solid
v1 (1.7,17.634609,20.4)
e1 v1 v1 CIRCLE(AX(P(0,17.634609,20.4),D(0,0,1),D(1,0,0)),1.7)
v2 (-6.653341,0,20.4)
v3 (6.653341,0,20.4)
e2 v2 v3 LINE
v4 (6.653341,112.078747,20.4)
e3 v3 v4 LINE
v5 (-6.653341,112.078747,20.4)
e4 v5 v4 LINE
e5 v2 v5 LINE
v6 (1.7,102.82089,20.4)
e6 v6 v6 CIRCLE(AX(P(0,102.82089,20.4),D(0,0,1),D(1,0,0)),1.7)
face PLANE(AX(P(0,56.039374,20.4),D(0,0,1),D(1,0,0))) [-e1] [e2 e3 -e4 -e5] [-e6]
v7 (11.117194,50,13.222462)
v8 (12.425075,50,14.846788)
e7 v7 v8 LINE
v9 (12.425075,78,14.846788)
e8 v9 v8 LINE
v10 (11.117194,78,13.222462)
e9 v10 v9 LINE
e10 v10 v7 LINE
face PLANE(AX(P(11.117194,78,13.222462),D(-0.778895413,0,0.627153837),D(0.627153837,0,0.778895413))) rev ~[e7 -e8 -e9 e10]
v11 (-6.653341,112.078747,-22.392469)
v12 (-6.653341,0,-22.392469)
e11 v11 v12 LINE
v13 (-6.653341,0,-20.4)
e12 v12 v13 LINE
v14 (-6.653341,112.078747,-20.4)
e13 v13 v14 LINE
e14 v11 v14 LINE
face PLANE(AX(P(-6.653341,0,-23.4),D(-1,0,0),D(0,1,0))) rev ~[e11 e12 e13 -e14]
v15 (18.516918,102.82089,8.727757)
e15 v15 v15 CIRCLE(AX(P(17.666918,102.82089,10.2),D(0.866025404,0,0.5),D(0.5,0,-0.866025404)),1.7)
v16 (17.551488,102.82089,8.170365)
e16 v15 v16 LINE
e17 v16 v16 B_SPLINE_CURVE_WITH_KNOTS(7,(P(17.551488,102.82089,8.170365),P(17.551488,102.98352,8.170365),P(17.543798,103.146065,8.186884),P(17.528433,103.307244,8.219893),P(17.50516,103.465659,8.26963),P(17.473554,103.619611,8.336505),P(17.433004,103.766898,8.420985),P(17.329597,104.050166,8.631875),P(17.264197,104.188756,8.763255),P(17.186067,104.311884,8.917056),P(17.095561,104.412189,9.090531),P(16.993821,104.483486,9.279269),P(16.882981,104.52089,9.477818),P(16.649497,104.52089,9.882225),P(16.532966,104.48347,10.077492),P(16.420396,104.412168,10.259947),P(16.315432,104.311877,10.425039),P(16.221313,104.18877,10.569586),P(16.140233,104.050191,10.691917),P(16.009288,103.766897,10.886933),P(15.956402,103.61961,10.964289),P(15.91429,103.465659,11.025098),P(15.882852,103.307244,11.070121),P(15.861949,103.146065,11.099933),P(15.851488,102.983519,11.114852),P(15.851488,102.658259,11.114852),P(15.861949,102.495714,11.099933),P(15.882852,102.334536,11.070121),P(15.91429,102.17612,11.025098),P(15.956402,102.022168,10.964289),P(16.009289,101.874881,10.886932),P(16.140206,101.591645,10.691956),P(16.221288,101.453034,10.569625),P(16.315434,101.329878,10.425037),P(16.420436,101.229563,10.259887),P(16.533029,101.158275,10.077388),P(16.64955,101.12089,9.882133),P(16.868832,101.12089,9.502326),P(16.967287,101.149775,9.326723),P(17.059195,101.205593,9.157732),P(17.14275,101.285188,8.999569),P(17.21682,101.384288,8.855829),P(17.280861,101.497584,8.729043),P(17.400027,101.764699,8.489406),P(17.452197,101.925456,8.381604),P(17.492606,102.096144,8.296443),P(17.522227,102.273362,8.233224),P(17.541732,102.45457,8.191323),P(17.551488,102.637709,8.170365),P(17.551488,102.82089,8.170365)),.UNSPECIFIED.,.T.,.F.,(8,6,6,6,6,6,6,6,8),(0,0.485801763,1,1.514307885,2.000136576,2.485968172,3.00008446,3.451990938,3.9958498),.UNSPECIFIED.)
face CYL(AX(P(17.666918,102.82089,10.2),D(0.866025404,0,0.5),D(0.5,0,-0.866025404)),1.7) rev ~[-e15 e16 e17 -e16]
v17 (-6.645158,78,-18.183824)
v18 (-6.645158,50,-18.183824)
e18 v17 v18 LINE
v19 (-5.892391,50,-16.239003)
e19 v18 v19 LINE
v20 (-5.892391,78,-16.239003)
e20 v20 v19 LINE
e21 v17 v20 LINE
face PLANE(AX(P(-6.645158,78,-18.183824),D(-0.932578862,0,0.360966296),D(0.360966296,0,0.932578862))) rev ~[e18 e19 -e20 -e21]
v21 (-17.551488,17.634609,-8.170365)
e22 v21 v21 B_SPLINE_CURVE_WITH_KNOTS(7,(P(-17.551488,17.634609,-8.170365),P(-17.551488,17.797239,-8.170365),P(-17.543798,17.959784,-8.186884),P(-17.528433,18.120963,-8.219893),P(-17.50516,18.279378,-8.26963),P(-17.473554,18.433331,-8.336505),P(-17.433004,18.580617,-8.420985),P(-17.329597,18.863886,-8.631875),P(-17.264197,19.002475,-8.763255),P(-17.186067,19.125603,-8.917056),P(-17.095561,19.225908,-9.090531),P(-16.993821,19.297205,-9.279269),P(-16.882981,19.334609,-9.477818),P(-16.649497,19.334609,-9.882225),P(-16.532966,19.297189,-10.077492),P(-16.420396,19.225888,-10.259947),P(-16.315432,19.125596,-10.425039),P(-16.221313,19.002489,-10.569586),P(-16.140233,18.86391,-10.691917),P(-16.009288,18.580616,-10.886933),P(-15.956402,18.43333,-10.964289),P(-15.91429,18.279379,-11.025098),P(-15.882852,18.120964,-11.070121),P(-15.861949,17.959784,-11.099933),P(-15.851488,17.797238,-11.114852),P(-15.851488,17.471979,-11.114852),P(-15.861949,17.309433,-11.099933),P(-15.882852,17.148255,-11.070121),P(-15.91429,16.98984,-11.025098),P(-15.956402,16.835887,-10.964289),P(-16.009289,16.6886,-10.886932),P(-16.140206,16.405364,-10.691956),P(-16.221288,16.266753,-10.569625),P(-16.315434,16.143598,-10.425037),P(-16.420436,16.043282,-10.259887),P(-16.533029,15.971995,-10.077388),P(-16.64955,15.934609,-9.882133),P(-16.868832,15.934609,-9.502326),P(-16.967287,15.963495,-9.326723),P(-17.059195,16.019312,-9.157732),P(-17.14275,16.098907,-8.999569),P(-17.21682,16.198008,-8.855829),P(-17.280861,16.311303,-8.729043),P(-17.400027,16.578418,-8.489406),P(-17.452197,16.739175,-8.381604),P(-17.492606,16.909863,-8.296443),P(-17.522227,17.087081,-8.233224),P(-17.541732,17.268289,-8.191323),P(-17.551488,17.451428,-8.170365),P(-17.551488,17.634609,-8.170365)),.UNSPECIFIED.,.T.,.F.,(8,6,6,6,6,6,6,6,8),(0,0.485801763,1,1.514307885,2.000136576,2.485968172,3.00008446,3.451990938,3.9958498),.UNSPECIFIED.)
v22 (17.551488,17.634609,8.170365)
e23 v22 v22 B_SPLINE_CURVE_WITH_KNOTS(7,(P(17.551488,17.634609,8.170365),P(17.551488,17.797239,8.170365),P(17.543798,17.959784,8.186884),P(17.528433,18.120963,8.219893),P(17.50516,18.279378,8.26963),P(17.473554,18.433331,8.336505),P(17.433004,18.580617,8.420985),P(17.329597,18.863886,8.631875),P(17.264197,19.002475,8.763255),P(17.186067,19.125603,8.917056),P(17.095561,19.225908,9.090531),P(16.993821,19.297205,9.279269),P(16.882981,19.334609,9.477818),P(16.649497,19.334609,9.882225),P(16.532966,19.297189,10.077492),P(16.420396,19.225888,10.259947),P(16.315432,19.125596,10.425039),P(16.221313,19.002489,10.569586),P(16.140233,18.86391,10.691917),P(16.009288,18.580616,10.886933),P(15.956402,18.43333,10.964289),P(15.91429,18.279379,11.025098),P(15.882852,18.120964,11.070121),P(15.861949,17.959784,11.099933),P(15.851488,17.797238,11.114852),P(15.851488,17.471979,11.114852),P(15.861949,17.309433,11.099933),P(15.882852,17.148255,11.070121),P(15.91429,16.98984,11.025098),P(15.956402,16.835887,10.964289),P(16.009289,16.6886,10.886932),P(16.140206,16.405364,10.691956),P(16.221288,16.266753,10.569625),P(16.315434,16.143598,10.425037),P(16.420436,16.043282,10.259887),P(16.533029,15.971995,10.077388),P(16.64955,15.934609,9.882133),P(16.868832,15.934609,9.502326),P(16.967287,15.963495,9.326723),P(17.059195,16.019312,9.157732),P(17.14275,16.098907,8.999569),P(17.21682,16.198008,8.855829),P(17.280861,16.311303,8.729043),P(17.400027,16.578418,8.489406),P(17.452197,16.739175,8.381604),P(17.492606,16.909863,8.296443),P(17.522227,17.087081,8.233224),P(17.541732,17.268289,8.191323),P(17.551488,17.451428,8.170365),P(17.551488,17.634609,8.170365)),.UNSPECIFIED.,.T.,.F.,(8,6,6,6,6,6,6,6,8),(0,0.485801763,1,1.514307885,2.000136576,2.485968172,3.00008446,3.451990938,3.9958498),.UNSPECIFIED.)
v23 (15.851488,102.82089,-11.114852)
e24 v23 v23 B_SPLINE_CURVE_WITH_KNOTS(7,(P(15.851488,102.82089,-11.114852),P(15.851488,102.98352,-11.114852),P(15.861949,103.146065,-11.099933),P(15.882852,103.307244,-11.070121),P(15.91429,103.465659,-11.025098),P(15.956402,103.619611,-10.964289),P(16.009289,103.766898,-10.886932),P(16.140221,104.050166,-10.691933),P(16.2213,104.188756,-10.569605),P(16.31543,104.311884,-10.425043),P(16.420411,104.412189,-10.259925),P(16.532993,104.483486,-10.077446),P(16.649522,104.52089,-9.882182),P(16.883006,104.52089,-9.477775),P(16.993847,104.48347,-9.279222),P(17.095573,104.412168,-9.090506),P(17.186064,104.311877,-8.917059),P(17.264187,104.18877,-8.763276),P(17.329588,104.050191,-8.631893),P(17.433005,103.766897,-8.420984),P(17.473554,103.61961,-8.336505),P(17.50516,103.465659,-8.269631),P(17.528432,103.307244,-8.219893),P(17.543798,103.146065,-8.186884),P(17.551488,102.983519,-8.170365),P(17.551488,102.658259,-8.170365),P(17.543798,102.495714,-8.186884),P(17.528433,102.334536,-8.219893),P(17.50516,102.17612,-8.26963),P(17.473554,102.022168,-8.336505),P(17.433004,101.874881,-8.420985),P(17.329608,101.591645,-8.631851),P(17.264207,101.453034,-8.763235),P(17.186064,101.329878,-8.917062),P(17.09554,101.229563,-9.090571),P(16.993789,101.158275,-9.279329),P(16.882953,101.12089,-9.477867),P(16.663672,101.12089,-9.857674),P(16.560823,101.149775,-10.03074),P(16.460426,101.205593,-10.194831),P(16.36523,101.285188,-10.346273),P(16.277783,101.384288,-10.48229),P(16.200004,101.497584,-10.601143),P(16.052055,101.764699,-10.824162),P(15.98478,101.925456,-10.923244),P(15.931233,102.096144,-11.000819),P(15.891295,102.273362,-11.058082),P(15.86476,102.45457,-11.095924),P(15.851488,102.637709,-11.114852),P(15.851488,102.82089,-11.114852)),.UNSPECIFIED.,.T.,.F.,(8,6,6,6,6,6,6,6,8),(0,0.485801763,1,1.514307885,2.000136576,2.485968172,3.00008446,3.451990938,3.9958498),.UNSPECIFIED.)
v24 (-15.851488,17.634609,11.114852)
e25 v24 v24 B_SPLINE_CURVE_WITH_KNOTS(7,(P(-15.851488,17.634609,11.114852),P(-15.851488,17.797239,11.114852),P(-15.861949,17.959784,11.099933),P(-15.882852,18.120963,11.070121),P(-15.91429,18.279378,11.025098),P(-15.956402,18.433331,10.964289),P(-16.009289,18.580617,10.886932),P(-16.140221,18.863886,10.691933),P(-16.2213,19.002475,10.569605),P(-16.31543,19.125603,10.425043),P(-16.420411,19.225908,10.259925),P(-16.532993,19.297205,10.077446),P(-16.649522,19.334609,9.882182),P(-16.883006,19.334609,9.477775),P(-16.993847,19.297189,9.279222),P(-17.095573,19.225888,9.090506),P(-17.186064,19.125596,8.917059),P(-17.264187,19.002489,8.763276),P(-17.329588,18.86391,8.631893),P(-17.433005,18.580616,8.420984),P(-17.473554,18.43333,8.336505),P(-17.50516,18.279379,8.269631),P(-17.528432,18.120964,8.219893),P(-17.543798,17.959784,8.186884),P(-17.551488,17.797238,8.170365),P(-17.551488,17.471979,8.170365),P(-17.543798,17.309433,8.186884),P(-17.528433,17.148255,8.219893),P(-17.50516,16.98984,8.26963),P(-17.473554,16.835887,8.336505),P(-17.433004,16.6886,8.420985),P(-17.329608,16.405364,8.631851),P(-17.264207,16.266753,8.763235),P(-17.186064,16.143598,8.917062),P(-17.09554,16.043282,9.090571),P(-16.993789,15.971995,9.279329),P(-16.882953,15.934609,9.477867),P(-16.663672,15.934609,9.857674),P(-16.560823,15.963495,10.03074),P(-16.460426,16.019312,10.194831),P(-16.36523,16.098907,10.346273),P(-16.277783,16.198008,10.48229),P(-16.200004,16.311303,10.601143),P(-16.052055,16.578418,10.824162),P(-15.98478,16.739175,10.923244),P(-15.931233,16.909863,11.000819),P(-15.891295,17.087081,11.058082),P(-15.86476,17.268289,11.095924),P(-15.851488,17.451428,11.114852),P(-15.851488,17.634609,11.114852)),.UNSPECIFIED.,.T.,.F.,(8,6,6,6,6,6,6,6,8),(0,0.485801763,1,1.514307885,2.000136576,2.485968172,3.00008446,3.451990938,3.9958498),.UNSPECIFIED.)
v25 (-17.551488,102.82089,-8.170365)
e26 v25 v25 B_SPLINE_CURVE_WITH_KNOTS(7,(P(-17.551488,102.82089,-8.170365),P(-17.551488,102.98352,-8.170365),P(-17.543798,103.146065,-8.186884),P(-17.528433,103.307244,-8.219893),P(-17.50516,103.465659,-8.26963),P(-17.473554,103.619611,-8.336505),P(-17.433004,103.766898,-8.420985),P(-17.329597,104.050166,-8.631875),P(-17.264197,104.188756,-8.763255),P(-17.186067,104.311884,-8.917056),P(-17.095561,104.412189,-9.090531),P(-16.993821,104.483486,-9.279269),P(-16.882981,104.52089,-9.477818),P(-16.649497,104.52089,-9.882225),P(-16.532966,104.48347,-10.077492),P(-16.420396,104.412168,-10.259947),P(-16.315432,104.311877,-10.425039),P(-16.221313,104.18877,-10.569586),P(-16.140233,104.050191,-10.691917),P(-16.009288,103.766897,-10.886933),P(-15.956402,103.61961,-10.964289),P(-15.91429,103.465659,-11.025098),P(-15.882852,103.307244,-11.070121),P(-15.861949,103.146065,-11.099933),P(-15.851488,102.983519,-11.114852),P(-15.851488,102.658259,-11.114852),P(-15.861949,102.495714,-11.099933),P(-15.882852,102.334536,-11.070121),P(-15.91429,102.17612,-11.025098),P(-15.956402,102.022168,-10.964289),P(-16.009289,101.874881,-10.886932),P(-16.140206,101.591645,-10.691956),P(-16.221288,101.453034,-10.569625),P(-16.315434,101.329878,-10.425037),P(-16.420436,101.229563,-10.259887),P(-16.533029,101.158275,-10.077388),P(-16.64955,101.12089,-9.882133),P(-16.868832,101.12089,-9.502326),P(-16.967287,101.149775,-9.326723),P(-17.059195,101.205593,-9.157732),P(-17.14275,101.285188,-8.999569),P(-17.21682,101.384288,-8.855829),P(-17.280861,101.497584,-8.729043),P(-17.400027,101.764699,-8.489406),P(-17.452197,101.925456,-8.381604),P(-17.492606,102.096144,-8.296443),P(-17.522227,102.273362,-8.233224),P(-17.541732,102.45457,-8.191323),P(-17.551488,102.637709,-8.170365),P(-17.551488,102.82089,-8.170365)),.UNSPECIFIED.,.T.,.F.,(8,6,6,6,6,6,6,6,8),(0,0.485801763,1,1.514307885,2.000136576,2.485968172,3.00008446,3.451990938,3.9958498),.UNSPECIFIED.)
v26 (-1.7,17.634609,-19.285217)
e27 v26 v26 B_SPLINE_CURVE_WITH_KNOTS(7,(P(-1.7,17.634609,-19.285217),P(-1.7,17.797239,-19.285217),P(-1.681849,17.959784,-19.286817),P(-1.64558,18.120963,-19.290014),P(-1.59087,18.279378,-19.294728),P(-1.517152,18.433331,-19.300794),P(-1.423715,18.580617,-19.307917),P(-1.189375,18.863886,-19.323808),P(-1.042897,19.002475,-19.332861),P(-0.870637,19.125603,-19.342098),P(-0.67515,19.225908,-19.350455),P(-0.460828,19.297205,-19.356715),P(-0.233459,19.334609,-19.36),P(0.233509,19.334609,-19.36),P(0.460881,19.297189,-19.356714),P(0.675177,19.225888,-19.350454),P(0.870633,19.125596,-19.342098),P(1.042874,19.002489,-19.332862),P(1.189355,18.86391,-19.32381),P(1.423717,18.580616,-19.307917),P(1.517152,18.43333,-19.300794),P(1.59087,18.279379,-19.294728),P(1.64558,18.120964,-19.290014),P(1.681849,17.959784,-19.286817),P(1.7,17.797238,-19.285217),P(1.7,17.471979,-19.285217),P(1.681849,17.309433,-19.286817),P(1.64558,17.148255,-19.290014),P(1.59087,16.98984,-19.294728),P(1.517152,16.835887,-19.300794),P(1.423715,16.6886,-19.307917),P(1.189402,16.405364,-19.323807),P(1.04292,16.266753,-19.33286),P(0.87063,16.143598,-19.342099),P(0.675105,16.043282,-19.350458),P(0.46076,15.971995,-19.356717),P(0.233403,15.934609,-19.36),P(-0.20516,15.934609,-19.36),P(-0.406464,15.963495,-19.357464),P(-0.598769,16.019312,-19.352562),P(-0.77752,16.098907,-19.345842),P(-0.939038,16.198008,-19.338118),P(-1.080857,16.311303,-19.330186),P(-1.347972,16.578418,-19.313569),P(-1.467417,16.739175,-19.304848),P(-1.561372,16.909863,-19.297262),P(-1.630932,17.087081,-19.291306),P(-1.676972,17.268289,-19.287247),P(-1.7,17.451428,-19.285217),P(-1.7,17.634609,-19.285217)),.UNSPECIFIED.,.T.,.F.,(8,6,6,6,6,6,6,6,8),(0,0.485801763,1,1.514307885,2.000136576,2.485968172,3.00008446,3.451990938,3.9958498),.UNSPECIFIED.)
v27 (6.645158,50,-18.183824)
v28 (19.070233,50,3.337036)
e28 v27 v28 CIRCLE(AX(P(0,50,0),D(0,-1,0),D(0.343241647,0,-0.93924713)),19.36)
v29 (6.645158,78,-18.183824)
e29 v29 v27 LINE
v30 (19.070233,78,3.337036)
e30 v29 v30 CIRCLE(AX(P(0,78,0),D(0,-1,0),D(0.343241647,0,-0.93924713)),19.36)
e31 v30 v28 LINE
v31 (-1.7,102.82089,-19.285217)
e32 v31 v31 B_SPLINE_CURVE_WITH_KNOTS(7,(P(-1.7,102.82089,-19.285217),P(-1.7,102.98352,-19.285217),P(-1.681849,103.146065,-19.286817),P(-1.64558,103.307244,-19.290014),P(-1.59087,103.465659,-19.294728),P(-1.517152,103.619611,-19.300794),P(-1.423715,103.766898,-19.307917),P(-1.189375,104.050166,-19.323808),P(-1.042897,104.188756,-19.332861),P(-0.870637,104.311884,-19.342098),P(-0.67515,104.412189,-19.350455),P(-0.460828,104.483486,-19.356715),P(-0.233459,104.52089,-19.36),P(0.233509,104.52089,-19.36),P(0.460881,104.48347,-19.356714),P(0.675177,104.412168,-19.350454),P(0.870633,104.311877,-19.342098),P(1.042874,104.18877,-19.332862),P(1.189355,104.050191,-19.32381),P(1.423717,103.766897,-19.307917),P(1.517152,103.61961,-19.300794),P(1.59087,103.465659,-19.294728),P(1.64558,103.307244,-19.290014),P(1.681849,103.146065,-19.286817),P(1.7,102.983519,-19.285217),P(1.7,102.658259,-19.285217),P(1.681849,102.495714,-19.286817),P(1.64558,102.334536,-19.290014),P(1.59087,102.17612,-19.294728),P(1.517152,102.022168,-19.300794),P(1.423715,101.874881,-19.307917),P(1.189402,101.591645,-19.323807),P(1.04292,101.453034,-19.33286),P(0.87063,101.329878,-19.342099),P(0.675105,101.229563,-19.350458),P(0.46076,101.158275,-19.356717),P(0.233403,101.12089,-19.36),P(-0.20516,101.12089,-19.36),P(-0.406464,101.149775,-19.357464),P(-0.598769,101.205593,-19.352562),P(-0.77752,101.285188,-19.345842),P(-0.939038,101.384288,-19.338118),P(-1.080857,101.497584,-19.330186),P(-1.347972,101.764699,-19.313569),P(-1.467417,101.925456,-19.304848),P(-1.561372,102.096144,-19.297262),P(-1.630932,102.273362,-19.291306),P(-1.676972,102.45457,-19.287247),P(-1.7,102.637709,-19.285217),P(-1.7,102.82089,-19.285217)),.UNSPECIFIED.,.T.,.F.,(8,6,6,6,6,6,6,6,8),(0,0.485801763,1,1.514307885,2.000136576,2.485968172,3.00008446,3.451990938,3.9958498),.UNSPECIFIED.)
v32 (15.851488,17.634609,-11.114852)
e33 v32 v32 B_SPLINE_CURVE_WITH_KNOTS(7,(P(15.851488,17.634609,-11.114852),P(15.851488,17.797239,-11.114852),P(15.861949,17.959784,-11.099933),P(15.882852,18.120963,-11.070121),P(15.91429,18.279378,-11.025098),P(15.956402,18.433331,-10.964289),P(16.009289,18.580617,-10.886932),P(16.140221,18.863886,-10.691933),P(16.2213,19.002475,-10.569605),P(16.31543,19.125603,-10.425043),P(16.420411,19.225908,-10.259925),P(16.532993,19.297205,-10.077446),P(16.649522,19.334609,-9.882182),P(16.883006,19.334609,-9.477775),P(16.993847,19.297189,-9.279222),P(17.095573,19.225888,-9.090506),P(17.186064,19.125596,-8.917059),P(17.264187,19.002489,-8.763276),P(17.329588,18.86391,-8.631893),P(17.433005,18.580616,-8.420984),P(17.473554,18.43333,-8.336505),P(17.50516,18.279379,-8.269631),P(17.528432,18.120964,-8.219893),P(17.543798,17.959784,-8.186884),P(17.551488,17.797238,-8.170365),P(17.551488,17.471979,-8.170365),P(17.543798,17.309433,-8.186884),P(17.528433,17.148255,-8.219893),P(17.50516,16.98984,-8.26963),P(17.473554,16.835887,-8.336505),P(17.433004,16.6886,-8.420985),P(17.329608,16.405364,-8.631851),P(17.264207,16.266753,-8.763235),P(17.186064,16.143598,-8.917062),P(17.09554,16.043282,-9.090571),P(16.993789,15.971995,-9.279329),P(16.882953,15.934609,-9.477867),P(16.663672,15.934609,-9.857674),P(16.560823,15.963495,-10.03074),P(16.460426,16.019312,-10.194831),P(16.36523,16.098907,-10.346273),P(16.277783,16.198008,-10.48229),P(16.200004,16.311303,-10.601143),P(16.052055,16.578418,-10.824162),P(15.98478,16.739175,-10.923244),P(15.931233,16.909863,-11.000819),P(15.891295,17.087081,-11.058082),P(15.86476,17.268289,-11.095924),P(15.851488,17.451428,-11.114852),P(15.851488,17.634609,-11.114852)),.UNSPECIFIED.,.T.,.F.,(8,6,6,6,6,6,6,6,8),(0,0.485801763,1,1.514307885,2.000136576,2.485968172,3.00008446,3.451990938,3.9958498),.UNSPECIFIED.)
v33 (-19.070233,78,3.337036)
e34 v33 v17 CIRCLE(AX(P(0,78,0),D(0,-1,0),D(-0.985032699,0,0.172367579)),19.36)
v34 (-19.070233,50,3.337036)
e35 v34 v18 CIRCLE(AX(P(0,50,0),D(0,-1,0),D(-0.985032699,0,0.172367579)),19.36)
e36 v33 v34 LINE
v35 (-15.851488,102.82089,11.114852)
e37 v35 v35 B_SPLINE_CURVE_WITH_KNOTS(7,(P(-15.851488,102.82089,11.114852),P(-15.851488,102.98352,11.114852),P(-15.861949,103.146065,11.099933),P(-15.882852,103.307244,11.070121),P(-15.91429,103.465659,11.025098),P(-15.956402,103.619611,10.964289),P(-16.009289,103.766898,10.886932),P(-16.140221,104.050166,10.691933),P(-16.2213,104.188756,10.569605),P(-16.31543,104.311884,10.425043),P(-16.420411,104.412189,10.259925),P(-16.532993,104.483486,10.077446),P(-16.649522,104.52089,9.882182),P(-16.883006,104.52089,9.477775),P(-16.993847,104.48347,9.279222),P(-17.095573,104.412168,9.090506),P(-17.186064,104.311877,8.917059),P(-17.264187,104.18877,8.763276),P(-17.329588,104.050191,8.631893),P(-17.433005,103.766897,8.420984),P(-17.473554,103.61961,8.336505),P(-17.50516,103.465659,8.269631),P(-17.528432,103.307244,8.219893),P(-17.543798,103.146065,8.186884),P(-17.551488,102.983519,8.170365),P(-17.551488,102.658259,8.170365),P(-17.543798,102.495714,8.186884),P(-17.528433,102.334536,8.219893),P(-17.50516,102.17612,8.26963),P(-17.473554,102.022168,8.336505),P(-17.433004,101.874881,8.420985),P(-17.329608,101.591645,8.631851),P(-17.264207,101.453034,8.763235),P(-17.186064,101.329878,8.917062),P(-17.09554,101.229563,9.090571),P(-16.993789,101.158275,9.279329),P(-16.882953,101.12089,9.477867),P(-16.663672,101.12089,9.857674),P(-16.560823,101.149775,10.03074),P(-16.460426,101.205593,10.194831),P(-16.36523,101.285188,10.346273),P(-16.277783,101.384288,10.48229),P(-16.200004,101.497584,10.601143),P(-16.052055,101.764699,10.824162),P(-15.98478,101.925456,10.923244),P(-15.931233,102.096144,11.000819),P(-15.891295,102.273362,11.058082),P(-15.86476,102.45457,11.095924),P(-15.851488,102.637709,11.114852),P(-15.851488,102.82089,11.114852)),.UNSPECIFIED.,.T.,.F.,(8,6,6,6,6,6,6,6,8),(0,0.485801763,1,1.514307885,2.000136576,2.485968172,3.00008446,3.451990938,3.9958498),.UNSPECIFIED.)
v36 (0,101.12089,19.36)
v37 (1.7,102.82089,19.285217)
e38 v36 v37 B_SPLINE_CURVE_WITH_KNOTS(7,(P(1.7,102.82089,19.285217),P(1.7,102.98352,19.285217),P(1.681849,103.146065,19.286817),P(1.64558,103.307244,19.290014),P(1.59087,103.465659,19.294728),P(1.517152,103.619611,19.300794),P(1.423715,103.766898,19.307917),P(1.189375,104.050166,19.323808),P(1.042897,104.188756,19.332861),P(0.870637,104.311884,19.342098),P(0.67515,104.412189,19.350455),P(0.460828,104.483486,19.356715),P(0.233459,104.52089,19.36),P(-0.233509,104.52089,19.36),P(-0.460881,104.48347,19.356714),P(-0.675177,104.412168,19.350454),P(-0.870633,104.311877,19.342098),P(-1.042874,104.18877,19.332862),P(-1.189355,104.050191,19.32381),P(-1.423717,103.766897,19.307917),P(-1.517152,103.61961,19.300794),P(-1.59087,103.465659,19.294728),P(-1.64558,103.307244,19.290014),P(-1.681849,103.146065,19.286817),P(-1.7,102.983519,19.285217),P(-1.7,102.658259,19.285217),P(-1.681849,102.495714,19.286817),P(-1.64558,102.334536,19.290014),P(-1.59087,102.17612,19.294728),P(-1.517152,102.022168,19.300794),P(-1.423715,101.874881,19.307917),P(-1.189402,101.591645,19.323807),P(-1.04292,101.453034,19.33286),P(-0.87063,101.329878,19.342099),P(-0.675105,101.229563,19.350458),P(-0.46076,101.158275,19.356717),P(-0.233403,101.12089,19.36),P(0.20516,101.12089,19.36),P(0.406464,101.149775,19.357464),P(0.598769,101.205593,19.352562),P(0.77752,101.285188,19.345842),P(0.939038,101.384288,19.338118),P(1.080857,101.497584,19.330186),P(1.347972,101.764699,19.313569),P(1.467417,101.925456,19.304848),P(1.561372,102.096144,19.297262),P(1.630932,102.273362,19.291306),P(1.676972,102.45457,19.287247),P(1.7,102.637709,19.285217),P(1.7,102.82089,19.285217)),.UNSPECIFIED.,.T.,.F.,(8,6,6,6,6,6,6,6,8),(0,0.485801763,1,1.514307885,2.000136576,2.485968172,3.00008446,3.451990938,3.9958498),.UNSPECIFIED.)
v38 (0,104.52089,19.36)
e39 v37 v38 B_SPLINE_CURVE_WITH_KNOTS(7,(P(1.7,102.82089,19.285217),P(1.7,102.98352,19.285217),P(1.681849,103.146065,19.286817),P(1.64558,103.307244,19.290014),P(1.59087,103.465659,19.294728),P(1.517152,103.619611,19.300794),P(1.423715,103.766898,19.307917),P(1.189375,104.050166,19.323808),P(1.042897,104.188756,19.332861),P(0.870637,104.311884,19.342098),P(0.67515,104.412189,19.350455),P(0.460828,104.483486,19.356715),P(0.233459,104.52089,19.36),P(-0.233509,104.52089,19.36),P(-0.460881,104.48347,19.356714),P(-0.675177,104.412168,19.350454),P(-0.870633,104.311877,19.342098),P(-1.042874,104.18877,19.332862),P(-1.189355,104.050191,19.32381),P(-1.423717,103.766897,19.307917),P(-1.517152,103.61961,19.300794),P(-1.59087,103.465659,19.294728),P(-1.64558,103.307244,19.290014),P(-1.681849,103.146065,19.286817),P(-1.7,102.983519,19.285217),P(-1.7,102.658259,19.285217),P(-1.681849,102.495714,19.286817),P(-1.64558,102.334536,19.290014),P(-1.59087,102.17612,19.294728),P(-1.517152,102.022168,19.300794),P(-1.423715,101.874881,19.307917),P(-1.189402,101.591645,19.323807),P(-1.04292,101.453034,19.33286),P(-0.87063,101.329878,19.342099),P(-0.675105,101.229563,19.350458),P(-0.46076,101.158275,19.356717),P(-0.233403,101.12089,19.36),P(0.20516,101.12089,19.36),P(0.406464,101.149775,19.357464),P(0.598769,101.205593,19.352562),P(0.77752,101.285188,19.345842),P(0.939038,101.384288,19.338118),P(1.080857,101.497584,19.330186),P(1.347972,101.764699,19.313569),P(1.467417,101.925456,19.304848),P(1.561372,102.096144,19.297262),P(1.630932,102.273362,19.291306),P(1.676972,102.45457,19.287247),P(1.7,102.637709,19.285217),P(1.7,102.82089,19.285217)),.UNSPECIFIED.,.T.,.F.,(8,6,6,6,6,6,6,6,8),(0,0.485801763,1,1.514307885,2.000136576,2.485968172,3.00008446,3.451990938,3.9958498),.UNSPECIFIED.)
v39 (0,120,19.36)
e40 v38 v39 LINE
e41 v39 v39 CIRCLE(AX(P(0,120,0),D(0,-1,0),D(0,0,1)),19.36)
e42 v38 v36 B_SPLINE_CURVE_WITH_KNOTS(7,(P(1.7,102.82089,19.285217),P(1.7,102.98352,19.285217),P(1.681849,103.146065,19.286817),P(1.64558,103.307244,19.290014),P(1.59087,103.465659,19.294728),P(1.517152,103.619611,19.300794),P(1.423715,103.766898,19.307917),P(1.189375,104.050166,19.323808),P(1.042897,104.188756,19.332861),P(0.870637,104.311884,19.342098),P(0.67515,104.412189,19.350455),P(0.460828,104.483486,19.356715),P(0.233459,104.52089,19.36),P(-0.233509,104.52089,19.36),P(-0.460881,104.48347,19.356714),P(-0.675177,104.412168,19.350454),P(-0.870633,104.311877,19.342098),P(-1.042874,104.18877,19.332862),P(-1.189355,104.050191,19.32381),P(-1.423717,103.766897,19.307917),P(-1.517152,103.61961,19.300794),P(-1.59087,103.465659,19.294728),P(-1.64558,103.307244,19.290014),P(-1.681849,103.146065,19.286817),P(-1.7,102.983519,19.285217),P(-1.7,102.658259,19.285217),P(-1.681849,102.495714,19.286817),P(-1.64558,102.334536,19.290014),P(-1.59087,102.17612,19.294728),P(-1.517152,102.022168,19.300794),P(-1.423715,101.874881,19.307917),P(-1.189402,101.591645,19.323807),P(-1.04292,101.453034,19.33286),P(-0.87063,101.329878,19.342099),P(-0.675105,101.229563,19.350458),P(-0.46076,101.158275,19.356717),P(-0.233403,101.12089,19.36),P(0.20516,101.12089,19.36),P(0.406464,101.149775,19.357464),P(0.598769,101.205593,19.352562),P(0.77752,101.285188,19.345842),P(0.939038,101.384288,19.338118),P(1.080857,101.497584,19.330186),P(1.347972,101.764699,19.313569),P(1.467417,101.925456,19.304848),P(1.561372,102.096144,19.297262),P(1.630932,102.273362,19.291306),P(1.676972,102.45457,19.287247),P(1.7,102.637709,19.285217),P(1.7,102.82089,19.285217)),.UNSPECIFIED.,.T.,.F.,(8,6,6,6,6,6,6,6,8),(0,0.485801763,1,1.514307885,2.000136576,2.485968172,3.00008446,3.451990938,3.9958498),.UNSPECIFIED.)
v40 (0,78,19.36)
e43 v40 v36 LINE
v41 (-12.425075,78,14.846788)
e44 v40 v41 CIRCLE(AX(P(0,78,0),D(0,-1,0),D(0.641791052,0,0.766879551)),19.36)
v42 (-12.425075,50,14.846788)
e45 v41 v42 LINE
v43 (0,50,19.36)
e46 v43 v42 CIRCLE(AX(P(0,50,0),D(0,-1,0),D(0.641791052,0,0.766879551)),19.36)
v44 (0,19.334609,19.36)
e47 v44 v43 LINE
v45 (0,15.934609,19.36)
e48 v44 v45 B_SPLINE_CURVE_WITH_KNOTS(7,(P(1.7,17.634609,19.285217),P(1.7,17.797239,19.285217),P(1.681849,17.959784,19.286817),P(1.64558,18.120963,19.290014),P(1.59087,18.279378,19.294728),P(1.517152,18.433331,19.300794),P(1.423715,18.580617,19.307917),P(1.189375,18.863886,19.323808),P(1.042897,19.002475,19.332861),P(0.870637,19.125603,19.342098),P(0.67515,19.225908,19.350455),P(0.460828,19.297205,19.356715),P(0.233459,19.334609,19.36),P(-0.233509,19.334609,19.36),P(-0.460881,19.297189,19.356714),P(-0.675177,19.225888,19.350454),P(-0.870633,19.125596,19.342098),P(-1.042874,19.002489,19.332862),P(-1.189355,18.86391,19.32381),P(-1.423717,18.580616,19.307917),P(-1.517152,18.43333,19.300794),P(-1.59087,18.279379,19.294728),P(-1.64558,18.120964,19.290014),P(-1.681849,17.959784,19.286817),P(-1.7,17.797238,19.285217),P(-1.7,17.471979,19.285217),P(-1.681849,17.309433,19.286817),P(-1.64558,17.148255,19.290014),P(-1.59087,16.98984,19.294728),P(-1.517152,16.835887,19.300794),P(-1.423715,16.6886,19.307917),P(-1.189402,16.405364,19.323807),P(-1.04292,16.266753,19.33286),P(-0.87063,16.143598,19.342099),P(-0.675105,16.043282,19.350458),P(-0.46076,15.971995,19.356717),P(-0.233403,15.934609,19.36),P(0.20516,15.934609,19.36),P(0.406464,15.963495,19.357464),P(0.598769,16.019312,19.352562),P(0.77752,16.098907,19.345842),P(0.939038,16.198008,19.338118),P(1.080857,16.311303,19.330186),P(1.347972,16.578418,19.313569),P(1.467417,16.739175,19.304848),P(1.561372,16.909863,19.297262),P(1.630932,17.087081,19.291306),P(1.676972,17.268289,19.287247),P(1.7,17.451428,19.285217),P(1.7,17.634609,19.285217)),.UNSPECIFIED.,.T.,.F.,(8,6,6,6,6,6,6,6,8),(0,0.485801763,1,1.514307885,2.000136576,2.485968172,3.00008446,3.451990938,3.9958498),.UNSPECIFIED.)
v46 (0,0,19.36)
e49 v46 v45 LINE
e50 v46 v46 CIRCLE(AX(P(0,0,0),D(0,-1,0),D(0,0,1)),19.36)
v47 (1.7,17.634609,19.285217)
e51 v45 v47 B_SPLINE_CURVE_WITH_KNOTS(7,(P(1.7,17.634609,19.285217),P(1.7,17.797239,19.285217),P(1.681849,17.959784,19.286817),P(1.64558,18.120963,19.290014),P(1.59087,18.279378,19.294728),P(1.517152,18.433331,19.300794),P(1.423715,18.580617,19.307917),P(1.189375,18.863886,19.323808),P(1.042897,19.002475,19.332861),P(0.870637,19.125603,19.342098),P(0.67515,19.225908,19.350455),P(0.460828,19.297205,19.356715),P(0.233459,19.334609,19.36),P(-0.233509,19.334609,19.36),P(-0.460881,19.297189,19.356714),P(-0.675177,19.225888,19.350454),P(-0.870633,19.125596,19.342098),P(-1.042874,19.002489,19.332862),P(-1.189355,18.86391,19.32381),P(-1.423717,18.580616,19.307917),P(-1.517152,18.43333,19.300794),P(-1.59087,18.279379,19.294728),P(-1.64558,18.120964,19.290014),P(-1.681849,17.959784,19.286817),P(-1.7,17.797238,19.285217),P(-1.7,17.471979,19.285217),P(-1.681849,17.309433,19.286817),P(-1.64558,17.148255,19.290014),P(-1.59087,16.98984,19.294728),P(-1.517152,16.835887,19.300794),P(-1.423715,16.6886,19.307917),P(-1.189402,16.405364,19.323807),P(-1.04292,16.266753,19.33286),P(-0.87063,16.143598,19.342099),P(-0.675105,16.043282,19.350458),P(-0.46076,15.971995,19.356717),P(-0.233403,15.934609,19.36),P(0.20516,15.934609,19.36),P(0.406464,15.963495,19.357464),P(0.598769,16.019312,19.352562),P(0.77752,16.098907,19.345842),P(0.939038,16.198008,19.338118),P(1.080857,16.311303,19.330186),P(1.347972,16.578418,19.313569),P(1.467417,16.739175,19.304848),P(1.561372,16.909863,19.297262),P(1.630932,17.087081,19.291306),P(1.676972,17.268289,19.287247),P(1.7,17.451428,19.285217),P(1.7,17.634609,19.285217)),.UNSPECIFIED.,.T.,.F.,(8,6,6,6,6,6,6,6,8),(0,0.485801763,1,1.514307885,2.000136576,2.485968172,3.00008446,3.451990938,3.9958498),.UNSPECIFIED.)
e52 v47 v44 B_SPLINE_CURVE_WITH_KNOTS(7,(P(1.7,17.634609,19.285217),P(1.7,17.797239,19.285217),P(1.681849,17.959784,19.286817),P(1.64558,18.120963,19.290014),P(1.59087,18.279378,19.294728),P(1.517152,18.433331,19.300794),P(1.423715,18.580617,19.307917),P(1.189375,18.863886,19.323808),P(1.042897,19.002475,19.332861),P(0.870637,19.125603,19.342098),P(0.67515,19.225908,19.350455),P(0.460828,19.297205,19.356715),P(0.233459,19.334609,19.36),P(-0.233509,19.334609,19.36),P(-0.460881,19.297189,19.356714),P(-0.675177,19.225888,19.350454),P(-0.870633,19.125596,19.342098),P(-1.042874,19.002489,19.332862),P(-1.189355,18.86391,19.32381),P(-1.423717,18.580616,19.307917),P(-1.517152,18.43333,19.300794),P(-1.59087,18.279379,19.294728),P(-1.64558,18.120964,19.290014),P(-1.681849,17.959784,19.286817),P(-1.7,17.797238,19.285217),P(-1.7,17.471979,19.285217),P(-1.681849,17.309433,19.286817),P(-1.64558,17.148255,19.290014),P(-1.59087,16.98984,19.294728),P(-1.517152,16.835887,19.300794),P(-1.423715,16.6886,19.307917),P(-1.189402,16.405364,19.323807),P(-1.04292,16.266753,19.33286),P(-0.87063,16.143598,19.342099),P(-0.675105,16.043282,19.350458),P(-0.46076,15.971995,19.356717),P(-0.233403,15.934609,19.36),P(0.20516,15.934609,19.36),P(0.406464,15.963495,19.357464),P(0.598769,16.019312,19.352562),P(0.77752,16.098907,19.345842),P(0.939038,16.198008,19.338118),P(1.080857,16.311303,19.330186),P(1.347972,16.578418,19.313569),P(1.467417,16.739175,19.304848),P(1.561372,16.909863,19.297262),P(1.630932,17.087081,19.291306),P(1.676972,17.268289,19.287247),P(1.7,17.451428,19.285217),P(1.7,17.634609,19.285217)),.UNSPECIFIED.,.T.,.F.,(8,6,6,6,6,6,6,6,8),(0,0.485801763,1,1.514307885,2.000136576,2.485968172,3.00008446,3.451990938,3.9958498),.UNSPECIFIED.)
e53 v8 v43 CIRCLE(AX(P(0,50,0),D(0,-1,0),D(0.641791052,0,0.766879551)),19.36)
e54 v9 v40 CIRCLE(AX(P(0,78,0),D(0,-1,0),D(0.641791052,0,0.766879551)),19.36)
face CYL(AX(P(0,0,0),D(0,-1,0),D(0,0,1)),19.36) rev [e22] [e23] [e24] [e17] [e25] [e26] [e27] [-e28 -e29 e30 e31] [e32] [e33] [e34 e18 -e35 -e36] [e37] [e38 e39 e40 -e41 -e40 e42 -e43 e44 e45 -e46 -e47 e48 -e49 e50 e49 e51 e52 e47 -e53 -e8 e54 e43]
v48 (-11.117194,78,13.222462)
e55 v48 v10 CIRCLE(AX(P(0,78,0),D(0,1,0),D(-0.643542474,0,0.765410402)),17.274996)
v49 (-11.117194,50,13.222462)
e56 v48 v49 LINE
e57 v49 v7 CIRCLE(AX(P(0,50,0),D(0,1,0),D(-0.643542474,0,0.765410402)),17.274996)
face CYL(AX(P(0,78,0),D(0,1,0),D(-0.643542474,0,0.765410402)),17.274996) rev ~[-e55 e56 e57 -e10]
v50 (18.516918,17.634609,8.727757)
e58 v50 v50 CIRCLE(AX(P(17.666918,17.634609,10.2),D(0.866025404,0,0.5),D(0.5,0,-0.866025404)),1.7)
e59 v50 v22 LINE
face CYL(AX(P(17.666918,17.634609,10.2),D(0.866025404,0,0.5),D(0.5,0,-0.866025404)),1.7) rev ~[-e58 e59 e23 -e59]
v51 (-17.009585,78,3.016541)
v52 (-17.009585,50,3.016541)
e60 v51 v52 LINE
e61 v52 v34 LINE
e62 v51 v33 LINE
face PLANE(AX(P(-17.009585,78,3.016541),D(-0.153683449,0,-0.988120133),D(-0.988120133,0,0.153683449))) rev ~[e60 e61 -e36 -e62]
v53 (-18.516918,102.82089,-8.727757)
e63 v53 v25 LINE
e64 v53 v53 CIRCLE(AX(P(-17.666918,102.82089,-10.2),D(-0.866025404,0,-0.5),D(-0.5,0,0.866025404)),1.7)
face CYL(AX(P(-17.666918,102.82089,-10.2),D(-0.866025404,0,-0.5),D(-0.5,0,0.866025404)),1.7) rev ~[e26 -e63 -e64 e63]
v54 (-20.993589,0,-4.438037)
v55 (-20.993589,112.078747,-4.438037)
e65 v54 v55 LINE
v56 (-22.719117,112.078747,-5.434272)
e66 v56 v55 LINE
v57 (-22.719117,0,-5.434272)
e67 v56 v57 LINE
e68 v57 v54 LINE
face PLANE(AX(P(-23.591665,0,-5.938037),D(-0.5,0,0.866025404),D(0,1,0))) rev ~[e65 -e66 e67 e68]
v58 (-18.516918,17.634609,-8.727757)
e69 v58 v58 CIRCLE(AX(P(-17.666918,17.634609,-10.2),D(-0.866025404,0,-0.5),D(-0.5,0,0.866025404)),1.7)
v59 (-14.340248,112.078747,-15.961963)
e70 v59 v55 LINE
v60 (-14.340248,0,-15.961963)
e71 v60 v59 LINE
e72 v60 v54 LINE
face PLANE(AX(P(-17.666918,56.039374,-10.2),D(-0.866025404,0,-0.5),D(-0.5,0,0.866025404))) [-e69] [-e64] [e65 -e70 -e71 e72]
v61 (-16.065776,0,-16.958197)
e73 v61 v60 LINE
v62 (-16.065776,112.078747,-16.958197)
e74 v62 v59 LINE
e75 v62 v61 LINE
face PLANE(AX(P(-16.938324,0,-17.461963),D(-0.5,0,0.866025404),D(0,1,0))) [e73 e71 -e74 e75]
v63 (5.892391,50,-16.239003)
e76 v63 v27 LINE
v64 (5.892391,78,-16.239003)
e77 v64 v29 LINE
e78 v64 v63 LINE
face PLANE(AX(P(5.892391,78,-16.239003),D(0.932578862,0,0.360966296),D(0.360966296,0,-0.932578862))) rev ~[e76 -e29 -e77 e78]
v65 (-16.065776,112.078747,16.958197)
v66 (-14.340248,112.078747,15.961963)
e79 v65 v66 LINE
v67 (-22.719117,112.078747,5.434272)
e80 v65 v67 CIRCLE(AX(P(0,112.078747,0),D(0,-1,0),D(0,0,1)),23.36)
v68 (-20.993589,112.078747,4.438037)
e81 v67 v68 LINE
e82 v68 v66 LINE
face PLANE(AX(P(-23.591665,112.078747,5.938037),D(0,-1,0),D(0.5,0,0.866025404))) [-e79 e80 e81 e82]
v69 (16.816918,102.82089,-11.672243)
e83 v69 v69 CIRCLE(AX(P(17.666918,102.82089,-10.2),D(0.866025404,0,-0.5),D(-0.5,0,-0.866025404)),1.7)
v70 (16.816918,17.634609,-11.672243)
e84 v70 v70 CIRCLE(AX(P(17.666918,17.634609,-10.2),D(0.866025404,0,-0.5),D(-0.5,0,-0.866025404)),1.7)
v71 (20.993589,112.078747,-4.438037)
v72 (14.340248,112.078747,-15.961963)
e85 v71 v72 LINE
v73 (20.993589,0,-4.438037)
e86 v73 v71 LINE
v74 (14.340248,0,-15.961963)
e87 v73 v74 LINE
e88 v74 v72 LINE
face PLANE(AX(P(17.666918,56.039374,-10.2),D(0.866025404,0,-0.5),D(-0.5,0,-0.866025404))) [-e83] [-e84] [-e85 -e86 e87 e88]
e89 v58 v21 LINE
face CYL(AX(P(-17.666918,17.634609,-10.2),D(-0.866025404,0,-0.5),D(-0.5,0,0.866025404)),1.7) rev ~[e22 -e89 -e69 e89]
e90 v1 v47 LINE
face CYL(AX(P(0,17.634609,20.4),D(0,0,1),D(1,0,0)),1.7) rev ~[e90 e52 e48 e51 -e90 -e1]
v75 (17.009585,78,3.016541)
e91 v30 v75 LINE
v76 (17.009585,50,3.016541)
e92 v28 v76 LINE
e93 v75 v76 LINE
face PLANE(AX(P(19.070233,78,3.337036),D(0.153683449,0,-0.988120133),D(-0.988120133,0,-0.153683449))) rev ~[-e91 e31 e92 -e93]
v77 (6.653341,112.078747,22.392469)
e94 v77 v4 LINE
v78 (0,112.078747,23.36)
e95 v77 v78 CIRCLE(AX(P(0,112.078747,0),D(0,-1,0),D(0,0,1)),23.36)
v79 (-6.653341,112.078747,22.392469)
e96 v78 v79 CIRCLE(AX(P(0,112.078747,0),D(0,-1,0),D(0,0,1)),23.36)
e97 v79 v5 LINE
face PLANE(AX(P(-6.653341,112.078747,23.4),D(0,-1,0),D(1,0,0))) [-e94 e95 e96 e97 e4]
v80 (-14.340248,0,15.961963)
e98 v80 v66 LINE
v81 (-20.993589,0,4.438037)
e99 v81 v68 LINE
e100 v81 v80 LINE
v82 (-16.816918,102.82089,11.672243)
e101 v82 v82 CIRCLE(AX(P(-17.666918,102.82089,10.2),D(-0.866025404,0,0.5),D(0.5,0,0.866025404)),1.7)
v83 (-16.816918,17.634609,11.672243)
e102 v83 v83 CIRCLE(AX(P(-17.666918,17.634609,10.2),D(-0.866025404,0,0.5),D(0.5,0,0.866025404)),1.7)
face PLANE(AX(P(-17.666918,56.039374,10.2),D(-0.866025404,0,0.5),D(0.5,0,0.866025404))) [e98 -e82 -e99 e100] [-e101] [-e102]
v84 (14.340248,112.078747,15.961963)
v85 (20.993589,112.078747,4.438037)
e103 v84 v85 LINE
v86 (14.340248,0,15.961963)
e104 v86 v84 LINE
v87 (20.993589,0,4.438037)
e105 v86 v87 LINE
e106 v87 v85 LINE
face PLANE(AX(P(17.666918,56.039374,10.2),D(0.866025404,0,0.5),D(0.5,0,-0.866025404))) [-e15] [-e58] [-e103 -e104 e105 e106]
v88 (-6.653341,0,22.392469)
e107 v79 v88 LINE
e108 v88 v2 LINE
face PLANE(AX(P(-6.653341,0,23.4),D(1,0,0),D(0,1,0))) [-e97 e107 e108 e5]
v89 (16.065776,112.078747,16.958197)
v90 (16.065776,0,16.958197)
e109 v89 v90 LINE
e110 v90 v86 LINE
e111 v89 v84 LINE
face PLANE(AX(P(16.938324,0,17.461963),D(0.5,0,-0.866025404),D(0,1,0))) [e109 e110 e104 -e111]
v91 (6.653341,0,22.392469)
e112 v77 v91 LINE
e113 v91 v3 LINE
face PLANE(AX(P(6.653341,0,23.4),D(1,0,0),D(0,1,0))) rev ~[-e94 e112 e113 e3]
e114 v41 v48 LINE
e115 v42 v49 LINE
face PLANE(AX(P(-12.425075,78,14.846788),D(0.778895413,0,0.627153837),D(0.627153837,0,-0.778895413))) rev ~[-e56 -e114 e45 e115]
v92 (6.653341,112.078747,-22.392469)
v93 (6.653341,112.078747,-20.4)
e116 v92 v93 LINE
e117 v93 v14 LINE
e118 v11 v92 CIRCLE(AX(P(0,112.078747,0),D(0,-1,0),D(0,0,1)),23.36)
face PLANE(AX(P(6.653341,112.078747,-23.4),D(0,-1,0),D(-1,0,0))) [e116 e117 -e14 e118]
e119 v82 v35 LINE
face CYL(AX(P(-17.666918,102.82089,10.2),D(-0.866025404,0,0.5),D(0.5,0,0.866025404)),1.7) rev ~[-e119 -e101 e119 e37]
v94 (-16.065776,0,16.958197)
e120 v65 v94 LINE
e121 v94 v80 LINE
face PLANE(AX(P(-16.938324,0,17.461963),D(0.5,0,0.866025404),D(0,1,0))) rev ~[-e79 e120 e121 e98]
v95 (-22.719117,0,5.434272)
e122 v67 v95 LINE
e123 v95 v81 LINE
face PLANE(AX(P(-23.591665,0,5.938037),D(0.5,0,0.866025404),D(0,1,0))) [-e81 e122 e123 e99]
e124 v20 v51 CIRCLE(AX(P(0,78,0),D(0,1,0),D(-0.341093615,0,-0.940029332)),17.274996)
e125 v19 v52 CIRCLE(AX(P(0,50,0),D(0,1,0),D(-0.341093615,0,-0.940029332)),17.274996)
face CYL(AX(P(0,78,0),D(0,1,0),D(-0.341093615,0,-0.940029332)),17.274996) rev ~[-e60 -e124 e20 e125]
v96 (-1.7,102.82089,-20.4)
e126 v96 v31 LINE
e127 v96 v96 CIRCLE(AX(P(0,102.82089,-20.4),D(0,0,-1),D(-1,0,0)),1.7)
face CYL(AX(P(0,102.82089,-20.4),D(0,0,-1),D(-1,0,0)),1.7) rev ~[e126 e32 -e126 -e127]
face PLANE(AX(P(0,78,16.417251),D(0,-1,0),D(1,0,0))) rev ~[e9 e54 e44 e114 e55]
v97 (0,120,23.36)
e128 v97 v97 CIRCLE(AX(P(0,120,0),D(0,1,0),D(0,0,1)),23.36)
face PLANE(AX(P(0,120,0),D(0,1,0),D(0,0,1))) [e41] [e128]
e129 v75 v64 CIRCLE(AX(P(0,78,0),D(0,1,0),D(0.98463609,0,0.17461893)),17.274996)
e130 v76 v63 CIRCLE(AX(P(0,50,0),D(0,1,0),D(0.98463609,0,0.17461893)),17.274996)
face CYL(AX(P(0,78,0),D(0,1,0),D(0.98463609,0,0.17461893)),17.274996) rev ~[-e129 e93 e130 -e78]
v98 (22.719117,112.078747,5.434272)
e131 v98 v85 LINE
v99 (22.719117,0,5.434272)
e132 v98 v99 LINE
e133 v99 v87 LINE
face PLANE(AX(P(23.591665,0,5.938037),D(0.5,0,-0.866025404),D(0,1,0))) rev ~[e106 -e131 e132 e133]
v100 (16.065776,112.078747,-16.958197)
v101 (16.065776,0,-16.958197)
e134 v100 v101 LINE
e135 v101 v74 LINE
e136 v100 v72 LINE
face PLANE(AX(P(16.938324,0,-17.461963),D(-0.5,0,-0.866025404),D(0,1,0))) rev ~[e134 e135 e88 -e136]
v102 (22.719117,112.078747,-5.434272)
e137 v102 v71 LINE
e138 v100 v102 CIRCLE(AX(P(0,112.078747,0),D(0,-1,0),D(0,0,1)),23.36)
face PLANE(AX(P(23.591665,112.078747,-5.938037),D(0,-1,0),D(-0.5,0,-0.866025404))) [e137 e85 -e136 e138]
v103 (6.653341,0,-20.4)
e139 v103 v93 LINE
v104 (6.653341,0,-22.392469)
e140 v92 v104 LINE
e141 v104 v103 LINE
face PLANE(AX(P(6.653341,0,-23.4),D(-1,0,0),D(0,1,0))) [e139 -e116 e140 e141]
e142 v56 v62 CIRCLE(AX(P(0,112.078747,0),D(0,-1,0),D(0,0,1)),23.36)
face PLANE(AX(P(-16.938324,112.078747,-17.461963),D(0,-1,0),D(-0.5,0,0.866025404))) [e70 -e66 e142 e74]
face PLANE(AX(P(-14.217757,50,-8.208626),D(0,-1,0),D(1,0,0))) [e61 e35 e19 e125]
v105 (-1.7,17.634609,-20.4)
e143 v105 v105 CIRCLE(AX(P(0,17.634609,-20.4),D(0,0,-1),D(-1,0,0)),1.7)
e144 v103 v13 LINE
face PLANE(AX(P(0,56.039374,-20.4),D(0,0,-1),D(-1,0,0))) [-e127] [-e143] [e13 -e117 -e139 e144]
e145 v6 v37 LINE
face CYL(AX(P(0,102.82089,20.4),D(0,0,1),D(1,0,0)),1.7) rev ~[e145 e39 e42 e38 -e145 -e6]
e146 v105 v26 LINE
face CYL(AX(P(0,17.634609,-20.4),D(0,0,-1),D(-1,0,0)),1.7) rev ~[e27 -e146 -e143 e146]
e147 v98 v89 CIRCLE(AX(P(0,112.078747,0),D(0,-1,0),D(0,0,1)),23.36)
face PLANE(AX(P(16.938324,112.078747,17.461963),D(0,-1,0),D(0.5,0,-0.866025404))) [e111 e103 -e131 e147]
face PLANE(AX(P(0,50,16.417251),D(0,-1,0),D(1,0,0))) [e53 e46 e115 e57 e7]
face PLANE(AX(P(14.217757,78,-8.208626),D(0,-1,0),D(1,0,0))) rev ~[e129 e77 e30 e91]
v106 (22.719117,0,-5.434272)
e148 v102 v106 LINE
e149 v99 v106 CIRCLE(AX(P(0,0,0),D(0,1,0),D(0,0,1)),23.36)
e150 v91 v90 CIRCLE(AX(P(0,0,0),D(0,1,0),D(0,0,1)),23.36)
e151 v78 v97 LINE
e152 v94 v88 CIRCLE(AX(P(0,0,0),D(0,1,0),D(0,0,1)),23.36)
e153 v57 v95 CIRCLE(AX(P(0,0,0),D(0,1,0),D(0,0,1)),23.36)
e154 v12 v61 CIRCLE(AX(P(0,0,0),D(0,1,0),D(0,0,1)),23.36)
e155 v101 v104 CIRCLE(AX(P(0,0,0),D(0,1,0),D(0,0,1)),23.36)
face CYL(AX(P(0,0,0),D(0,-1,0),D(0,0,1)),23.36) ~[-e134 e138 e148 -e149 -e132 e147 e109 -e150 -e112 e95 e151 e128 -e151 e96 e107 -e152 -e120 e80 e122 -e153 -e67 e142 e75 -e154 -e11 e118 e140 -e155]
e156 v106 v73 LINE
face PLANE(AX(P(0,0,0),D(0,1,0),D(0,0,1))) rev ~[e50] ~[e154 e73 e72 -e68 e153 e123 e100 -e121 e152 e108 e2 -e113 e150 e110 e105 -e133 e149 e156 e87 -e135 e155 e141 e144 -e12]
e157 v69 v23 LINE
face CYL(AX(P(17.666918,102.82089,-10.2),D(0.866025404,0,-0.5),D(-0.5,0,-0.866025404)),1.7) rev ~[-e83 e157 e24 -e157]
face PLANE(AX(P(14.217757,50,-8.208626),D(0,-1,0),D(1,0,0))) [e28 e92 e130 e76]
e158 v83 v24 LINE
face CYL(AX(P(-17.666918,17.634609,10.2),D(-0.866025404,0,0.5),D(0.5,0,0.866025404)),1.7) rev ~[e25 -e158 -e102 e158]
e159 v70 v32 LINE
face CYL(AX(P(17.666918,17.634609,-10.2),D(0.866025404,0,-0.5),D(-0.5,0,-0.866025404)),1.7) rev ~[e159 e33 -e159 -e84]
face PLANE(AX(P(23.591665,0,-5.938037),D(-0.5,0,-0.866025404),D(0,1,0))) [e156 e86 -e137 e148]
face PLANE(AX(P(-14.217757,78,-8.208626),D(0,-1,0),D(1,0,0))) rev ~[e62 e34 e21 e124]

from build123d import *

# Parameters (mm, degrees)
SKETCH1_R               = 23.36
BOSS_EXTRUDE1_DEPTH     = 120
SHELL1_T                = -4
BOSS_EXTRUDE2_START     = -78
BOSS_EXTRUDE2_DEPTH     = 28
CUT_EXTRUDE2_START      = -3
SKETCH3_W               = 13.306682786
SKETCH3_H               = 112.078747136
CUT_EXTRUDE2_DEPTH      = 3
CIRPATTERN1_COUNT       = 6
CUT_EXTRUDE3_REACH      = 131.848
CUT_EXTRUDE3_END_RADIUS = 19.36
SKETCH4_R               = 1.7
CIRPATTERN2_COUNT       = 6


with BuildPart() as part:
    # Sketch1 → Boss-Extrude1 (new body)
    with BuildSketch(Plane(origin=(0, 0, 0), x_dir=(1, 0, 0), z_dir=(0, 1, 0))):
        with Locations(Location((0, 0, 0), (0, 0, 270))):
            Circle(SKETCH1_R)
    extrude(amount=BOSS_EXTRUDE1_DEPTH)

    # Shell1
    shell1_openings = [part.faces().sort_by_distance(p)[0] for p in [
        (0, 120, 0),
        (0, 0, 0),
    ]]
    offset(amount=SHELL1_T, openings=shell1_openings, kind=Kind.INTERSECTION)

    # Sketch2 → Boss-Extrude2 (add)
    with BuildSketch(Plane.XZ.offset(BOSS_EXTRUDE2_START)):
        with BuildLine():
            Line((-6.645158283, -18.183824444), (-5.892390902, -16.239003125))
            ThreePointArc((-5.892390902, -16.239003125), (-14.960585543, -8.63749809), (-17.00958469, 3.016541352))
            Line((-17.00958469, 3.016541352), (-19.070233048, 3.337036337))
            ThreePointArc((-19.070233048, 3.337036337), (-16.766251817, -9.68), (-6.645158283, -18.183824444))
        make_face()
        with BuildLine():
            ThreePointArc((17.00958469, 3.016541352), (14.960585543, -8.63749809), (5.892390902, -16.239003125))
            Line((5.892390902, -16.239003125), (6.645158283, -18.183824444))
            ThreePointArc((6.645158283, -18.183824444), (16.766251817, -9.68), (19.070233048, 3.337036337))
            Line((19.070233048, 3.337036337), (17.00958469, 3.016541352))
        make_face()
        with BuildLine():
            Line((-12.425074765, 14.846788107), (-11.117193788, 13.222461773))
            ThreePointArc((-11.117193788, 13.222461773), (0, 17.274996181), (11.117193788, 13.222461773))
            Line((11.117193788, 13.222461773), (12.425074765, 14.846788107))
            ThreePointArc((12.425074765, 14.846788107), (0, 19.36), (-12.425074765, 14.846788107))
        make_face()
    extrude(amount=BOSS_EXTRUDE2_DEPTH)

    # Sketch3 → Cut-Extrude2 (cut)
    with BuildSketch(Plane(origin=(0, 0, -26.4), x_dir=(-1, 0, 0), z_dir=(0, 0, -1)).offset(CUT_EXTRUDE2_START)):
        with Locations((0, 56.039373568)):
            Rectangle(SKETCH3_W, SKETCH3_H)
    cut_extrude2 = extrude(amount=-CUT_EXTRUDE2_DEPTH, mode=Mode.SUBTRACT)

    # CirPattern1: Cut-Extrude2 ×6 about axis
    cirpattern1_axis = Axis((0, 0, 0), (0, 1, 0))
    for i in range(1, CIRPATTERN1_COUNT):
        add(cut_extrude2.rotate(cirpattern1_axis, i * 360 / CIRPATTERN1_COUNT), mode=Mode.SUBTRACT)

    # Cut-Extrude3: up to this cylinder (the profile starts outside it)
    cut_extrude3_end = Plane(origin=(0, 60.2277495, 0), z_dir=(0, -1, 0)) * Cylinder(CUT_EXTRUDE3_END_RADIUS, 388.602281, mode=Mode.PRIVATE)
    # Sketch4 → Cut-Extrude3 (cut, up to the surface)
    with BuildSketch(Plane(origin=(0, 0, -20.4), x_dir=(-1, 0, 0), z_dir=(0, 0, -1)), mode=Mode.PRIVATE) as cut_extrude3_sk1:
        with Locations((0, 102.820889633)):
            Circle(SKETCH4_R)
    cut_extrude3_tool1 = extrude(cut_extrude3_sk1.sketch, amount=-CUT_EXTRUDE3_REACH, mode=Mode.PRIVATE) - cut_extrude3_end
    # Sketch4 → Cut-Extrude3 (cut, up to the surface)
    with BuildSketch(Plane(origin=(0, 0, -20.4), x_dir=(-1, 0, 0), z_dir=(0, 0, -1)), mode=Mode.PRIVATE) as cut_extrude3_sk2:
        with Locations((0, 17.634608904)):
            Circle(SKETCH4_R)
    cut_extrude3_tool2 = extrude(cut_extrude3_sk2.sketch, amount=-CUT_EXTRUDE3_REACH, mode=Mode.PRIVATE) - cut_extrude3_end
    cut_extrude3 = cut_extrude3_tool1.solids().sort_by_distance((0, 102.82089, -20.4))[0] + cut_extrude3_tool2.solids().sort_by_distance((0, 17.634609, -20.4))[0]
    add(cut_extrude3, mode=Mode.SUBTRACT)

    # CirPattern2: Cut-Extrude3 ×6 about axis
    cirpattern2_axis = Axis((0, 120, 0), (0, -1, 0))
    for i in range(1, CIRPATTERN2_COUNT):
        add(cut_extrude3.rotate(cirpattern2_axis, i * 360 / CIRPATTERN2_COUNT), mode=Mode.SUBTRACT)


solid = part.part
